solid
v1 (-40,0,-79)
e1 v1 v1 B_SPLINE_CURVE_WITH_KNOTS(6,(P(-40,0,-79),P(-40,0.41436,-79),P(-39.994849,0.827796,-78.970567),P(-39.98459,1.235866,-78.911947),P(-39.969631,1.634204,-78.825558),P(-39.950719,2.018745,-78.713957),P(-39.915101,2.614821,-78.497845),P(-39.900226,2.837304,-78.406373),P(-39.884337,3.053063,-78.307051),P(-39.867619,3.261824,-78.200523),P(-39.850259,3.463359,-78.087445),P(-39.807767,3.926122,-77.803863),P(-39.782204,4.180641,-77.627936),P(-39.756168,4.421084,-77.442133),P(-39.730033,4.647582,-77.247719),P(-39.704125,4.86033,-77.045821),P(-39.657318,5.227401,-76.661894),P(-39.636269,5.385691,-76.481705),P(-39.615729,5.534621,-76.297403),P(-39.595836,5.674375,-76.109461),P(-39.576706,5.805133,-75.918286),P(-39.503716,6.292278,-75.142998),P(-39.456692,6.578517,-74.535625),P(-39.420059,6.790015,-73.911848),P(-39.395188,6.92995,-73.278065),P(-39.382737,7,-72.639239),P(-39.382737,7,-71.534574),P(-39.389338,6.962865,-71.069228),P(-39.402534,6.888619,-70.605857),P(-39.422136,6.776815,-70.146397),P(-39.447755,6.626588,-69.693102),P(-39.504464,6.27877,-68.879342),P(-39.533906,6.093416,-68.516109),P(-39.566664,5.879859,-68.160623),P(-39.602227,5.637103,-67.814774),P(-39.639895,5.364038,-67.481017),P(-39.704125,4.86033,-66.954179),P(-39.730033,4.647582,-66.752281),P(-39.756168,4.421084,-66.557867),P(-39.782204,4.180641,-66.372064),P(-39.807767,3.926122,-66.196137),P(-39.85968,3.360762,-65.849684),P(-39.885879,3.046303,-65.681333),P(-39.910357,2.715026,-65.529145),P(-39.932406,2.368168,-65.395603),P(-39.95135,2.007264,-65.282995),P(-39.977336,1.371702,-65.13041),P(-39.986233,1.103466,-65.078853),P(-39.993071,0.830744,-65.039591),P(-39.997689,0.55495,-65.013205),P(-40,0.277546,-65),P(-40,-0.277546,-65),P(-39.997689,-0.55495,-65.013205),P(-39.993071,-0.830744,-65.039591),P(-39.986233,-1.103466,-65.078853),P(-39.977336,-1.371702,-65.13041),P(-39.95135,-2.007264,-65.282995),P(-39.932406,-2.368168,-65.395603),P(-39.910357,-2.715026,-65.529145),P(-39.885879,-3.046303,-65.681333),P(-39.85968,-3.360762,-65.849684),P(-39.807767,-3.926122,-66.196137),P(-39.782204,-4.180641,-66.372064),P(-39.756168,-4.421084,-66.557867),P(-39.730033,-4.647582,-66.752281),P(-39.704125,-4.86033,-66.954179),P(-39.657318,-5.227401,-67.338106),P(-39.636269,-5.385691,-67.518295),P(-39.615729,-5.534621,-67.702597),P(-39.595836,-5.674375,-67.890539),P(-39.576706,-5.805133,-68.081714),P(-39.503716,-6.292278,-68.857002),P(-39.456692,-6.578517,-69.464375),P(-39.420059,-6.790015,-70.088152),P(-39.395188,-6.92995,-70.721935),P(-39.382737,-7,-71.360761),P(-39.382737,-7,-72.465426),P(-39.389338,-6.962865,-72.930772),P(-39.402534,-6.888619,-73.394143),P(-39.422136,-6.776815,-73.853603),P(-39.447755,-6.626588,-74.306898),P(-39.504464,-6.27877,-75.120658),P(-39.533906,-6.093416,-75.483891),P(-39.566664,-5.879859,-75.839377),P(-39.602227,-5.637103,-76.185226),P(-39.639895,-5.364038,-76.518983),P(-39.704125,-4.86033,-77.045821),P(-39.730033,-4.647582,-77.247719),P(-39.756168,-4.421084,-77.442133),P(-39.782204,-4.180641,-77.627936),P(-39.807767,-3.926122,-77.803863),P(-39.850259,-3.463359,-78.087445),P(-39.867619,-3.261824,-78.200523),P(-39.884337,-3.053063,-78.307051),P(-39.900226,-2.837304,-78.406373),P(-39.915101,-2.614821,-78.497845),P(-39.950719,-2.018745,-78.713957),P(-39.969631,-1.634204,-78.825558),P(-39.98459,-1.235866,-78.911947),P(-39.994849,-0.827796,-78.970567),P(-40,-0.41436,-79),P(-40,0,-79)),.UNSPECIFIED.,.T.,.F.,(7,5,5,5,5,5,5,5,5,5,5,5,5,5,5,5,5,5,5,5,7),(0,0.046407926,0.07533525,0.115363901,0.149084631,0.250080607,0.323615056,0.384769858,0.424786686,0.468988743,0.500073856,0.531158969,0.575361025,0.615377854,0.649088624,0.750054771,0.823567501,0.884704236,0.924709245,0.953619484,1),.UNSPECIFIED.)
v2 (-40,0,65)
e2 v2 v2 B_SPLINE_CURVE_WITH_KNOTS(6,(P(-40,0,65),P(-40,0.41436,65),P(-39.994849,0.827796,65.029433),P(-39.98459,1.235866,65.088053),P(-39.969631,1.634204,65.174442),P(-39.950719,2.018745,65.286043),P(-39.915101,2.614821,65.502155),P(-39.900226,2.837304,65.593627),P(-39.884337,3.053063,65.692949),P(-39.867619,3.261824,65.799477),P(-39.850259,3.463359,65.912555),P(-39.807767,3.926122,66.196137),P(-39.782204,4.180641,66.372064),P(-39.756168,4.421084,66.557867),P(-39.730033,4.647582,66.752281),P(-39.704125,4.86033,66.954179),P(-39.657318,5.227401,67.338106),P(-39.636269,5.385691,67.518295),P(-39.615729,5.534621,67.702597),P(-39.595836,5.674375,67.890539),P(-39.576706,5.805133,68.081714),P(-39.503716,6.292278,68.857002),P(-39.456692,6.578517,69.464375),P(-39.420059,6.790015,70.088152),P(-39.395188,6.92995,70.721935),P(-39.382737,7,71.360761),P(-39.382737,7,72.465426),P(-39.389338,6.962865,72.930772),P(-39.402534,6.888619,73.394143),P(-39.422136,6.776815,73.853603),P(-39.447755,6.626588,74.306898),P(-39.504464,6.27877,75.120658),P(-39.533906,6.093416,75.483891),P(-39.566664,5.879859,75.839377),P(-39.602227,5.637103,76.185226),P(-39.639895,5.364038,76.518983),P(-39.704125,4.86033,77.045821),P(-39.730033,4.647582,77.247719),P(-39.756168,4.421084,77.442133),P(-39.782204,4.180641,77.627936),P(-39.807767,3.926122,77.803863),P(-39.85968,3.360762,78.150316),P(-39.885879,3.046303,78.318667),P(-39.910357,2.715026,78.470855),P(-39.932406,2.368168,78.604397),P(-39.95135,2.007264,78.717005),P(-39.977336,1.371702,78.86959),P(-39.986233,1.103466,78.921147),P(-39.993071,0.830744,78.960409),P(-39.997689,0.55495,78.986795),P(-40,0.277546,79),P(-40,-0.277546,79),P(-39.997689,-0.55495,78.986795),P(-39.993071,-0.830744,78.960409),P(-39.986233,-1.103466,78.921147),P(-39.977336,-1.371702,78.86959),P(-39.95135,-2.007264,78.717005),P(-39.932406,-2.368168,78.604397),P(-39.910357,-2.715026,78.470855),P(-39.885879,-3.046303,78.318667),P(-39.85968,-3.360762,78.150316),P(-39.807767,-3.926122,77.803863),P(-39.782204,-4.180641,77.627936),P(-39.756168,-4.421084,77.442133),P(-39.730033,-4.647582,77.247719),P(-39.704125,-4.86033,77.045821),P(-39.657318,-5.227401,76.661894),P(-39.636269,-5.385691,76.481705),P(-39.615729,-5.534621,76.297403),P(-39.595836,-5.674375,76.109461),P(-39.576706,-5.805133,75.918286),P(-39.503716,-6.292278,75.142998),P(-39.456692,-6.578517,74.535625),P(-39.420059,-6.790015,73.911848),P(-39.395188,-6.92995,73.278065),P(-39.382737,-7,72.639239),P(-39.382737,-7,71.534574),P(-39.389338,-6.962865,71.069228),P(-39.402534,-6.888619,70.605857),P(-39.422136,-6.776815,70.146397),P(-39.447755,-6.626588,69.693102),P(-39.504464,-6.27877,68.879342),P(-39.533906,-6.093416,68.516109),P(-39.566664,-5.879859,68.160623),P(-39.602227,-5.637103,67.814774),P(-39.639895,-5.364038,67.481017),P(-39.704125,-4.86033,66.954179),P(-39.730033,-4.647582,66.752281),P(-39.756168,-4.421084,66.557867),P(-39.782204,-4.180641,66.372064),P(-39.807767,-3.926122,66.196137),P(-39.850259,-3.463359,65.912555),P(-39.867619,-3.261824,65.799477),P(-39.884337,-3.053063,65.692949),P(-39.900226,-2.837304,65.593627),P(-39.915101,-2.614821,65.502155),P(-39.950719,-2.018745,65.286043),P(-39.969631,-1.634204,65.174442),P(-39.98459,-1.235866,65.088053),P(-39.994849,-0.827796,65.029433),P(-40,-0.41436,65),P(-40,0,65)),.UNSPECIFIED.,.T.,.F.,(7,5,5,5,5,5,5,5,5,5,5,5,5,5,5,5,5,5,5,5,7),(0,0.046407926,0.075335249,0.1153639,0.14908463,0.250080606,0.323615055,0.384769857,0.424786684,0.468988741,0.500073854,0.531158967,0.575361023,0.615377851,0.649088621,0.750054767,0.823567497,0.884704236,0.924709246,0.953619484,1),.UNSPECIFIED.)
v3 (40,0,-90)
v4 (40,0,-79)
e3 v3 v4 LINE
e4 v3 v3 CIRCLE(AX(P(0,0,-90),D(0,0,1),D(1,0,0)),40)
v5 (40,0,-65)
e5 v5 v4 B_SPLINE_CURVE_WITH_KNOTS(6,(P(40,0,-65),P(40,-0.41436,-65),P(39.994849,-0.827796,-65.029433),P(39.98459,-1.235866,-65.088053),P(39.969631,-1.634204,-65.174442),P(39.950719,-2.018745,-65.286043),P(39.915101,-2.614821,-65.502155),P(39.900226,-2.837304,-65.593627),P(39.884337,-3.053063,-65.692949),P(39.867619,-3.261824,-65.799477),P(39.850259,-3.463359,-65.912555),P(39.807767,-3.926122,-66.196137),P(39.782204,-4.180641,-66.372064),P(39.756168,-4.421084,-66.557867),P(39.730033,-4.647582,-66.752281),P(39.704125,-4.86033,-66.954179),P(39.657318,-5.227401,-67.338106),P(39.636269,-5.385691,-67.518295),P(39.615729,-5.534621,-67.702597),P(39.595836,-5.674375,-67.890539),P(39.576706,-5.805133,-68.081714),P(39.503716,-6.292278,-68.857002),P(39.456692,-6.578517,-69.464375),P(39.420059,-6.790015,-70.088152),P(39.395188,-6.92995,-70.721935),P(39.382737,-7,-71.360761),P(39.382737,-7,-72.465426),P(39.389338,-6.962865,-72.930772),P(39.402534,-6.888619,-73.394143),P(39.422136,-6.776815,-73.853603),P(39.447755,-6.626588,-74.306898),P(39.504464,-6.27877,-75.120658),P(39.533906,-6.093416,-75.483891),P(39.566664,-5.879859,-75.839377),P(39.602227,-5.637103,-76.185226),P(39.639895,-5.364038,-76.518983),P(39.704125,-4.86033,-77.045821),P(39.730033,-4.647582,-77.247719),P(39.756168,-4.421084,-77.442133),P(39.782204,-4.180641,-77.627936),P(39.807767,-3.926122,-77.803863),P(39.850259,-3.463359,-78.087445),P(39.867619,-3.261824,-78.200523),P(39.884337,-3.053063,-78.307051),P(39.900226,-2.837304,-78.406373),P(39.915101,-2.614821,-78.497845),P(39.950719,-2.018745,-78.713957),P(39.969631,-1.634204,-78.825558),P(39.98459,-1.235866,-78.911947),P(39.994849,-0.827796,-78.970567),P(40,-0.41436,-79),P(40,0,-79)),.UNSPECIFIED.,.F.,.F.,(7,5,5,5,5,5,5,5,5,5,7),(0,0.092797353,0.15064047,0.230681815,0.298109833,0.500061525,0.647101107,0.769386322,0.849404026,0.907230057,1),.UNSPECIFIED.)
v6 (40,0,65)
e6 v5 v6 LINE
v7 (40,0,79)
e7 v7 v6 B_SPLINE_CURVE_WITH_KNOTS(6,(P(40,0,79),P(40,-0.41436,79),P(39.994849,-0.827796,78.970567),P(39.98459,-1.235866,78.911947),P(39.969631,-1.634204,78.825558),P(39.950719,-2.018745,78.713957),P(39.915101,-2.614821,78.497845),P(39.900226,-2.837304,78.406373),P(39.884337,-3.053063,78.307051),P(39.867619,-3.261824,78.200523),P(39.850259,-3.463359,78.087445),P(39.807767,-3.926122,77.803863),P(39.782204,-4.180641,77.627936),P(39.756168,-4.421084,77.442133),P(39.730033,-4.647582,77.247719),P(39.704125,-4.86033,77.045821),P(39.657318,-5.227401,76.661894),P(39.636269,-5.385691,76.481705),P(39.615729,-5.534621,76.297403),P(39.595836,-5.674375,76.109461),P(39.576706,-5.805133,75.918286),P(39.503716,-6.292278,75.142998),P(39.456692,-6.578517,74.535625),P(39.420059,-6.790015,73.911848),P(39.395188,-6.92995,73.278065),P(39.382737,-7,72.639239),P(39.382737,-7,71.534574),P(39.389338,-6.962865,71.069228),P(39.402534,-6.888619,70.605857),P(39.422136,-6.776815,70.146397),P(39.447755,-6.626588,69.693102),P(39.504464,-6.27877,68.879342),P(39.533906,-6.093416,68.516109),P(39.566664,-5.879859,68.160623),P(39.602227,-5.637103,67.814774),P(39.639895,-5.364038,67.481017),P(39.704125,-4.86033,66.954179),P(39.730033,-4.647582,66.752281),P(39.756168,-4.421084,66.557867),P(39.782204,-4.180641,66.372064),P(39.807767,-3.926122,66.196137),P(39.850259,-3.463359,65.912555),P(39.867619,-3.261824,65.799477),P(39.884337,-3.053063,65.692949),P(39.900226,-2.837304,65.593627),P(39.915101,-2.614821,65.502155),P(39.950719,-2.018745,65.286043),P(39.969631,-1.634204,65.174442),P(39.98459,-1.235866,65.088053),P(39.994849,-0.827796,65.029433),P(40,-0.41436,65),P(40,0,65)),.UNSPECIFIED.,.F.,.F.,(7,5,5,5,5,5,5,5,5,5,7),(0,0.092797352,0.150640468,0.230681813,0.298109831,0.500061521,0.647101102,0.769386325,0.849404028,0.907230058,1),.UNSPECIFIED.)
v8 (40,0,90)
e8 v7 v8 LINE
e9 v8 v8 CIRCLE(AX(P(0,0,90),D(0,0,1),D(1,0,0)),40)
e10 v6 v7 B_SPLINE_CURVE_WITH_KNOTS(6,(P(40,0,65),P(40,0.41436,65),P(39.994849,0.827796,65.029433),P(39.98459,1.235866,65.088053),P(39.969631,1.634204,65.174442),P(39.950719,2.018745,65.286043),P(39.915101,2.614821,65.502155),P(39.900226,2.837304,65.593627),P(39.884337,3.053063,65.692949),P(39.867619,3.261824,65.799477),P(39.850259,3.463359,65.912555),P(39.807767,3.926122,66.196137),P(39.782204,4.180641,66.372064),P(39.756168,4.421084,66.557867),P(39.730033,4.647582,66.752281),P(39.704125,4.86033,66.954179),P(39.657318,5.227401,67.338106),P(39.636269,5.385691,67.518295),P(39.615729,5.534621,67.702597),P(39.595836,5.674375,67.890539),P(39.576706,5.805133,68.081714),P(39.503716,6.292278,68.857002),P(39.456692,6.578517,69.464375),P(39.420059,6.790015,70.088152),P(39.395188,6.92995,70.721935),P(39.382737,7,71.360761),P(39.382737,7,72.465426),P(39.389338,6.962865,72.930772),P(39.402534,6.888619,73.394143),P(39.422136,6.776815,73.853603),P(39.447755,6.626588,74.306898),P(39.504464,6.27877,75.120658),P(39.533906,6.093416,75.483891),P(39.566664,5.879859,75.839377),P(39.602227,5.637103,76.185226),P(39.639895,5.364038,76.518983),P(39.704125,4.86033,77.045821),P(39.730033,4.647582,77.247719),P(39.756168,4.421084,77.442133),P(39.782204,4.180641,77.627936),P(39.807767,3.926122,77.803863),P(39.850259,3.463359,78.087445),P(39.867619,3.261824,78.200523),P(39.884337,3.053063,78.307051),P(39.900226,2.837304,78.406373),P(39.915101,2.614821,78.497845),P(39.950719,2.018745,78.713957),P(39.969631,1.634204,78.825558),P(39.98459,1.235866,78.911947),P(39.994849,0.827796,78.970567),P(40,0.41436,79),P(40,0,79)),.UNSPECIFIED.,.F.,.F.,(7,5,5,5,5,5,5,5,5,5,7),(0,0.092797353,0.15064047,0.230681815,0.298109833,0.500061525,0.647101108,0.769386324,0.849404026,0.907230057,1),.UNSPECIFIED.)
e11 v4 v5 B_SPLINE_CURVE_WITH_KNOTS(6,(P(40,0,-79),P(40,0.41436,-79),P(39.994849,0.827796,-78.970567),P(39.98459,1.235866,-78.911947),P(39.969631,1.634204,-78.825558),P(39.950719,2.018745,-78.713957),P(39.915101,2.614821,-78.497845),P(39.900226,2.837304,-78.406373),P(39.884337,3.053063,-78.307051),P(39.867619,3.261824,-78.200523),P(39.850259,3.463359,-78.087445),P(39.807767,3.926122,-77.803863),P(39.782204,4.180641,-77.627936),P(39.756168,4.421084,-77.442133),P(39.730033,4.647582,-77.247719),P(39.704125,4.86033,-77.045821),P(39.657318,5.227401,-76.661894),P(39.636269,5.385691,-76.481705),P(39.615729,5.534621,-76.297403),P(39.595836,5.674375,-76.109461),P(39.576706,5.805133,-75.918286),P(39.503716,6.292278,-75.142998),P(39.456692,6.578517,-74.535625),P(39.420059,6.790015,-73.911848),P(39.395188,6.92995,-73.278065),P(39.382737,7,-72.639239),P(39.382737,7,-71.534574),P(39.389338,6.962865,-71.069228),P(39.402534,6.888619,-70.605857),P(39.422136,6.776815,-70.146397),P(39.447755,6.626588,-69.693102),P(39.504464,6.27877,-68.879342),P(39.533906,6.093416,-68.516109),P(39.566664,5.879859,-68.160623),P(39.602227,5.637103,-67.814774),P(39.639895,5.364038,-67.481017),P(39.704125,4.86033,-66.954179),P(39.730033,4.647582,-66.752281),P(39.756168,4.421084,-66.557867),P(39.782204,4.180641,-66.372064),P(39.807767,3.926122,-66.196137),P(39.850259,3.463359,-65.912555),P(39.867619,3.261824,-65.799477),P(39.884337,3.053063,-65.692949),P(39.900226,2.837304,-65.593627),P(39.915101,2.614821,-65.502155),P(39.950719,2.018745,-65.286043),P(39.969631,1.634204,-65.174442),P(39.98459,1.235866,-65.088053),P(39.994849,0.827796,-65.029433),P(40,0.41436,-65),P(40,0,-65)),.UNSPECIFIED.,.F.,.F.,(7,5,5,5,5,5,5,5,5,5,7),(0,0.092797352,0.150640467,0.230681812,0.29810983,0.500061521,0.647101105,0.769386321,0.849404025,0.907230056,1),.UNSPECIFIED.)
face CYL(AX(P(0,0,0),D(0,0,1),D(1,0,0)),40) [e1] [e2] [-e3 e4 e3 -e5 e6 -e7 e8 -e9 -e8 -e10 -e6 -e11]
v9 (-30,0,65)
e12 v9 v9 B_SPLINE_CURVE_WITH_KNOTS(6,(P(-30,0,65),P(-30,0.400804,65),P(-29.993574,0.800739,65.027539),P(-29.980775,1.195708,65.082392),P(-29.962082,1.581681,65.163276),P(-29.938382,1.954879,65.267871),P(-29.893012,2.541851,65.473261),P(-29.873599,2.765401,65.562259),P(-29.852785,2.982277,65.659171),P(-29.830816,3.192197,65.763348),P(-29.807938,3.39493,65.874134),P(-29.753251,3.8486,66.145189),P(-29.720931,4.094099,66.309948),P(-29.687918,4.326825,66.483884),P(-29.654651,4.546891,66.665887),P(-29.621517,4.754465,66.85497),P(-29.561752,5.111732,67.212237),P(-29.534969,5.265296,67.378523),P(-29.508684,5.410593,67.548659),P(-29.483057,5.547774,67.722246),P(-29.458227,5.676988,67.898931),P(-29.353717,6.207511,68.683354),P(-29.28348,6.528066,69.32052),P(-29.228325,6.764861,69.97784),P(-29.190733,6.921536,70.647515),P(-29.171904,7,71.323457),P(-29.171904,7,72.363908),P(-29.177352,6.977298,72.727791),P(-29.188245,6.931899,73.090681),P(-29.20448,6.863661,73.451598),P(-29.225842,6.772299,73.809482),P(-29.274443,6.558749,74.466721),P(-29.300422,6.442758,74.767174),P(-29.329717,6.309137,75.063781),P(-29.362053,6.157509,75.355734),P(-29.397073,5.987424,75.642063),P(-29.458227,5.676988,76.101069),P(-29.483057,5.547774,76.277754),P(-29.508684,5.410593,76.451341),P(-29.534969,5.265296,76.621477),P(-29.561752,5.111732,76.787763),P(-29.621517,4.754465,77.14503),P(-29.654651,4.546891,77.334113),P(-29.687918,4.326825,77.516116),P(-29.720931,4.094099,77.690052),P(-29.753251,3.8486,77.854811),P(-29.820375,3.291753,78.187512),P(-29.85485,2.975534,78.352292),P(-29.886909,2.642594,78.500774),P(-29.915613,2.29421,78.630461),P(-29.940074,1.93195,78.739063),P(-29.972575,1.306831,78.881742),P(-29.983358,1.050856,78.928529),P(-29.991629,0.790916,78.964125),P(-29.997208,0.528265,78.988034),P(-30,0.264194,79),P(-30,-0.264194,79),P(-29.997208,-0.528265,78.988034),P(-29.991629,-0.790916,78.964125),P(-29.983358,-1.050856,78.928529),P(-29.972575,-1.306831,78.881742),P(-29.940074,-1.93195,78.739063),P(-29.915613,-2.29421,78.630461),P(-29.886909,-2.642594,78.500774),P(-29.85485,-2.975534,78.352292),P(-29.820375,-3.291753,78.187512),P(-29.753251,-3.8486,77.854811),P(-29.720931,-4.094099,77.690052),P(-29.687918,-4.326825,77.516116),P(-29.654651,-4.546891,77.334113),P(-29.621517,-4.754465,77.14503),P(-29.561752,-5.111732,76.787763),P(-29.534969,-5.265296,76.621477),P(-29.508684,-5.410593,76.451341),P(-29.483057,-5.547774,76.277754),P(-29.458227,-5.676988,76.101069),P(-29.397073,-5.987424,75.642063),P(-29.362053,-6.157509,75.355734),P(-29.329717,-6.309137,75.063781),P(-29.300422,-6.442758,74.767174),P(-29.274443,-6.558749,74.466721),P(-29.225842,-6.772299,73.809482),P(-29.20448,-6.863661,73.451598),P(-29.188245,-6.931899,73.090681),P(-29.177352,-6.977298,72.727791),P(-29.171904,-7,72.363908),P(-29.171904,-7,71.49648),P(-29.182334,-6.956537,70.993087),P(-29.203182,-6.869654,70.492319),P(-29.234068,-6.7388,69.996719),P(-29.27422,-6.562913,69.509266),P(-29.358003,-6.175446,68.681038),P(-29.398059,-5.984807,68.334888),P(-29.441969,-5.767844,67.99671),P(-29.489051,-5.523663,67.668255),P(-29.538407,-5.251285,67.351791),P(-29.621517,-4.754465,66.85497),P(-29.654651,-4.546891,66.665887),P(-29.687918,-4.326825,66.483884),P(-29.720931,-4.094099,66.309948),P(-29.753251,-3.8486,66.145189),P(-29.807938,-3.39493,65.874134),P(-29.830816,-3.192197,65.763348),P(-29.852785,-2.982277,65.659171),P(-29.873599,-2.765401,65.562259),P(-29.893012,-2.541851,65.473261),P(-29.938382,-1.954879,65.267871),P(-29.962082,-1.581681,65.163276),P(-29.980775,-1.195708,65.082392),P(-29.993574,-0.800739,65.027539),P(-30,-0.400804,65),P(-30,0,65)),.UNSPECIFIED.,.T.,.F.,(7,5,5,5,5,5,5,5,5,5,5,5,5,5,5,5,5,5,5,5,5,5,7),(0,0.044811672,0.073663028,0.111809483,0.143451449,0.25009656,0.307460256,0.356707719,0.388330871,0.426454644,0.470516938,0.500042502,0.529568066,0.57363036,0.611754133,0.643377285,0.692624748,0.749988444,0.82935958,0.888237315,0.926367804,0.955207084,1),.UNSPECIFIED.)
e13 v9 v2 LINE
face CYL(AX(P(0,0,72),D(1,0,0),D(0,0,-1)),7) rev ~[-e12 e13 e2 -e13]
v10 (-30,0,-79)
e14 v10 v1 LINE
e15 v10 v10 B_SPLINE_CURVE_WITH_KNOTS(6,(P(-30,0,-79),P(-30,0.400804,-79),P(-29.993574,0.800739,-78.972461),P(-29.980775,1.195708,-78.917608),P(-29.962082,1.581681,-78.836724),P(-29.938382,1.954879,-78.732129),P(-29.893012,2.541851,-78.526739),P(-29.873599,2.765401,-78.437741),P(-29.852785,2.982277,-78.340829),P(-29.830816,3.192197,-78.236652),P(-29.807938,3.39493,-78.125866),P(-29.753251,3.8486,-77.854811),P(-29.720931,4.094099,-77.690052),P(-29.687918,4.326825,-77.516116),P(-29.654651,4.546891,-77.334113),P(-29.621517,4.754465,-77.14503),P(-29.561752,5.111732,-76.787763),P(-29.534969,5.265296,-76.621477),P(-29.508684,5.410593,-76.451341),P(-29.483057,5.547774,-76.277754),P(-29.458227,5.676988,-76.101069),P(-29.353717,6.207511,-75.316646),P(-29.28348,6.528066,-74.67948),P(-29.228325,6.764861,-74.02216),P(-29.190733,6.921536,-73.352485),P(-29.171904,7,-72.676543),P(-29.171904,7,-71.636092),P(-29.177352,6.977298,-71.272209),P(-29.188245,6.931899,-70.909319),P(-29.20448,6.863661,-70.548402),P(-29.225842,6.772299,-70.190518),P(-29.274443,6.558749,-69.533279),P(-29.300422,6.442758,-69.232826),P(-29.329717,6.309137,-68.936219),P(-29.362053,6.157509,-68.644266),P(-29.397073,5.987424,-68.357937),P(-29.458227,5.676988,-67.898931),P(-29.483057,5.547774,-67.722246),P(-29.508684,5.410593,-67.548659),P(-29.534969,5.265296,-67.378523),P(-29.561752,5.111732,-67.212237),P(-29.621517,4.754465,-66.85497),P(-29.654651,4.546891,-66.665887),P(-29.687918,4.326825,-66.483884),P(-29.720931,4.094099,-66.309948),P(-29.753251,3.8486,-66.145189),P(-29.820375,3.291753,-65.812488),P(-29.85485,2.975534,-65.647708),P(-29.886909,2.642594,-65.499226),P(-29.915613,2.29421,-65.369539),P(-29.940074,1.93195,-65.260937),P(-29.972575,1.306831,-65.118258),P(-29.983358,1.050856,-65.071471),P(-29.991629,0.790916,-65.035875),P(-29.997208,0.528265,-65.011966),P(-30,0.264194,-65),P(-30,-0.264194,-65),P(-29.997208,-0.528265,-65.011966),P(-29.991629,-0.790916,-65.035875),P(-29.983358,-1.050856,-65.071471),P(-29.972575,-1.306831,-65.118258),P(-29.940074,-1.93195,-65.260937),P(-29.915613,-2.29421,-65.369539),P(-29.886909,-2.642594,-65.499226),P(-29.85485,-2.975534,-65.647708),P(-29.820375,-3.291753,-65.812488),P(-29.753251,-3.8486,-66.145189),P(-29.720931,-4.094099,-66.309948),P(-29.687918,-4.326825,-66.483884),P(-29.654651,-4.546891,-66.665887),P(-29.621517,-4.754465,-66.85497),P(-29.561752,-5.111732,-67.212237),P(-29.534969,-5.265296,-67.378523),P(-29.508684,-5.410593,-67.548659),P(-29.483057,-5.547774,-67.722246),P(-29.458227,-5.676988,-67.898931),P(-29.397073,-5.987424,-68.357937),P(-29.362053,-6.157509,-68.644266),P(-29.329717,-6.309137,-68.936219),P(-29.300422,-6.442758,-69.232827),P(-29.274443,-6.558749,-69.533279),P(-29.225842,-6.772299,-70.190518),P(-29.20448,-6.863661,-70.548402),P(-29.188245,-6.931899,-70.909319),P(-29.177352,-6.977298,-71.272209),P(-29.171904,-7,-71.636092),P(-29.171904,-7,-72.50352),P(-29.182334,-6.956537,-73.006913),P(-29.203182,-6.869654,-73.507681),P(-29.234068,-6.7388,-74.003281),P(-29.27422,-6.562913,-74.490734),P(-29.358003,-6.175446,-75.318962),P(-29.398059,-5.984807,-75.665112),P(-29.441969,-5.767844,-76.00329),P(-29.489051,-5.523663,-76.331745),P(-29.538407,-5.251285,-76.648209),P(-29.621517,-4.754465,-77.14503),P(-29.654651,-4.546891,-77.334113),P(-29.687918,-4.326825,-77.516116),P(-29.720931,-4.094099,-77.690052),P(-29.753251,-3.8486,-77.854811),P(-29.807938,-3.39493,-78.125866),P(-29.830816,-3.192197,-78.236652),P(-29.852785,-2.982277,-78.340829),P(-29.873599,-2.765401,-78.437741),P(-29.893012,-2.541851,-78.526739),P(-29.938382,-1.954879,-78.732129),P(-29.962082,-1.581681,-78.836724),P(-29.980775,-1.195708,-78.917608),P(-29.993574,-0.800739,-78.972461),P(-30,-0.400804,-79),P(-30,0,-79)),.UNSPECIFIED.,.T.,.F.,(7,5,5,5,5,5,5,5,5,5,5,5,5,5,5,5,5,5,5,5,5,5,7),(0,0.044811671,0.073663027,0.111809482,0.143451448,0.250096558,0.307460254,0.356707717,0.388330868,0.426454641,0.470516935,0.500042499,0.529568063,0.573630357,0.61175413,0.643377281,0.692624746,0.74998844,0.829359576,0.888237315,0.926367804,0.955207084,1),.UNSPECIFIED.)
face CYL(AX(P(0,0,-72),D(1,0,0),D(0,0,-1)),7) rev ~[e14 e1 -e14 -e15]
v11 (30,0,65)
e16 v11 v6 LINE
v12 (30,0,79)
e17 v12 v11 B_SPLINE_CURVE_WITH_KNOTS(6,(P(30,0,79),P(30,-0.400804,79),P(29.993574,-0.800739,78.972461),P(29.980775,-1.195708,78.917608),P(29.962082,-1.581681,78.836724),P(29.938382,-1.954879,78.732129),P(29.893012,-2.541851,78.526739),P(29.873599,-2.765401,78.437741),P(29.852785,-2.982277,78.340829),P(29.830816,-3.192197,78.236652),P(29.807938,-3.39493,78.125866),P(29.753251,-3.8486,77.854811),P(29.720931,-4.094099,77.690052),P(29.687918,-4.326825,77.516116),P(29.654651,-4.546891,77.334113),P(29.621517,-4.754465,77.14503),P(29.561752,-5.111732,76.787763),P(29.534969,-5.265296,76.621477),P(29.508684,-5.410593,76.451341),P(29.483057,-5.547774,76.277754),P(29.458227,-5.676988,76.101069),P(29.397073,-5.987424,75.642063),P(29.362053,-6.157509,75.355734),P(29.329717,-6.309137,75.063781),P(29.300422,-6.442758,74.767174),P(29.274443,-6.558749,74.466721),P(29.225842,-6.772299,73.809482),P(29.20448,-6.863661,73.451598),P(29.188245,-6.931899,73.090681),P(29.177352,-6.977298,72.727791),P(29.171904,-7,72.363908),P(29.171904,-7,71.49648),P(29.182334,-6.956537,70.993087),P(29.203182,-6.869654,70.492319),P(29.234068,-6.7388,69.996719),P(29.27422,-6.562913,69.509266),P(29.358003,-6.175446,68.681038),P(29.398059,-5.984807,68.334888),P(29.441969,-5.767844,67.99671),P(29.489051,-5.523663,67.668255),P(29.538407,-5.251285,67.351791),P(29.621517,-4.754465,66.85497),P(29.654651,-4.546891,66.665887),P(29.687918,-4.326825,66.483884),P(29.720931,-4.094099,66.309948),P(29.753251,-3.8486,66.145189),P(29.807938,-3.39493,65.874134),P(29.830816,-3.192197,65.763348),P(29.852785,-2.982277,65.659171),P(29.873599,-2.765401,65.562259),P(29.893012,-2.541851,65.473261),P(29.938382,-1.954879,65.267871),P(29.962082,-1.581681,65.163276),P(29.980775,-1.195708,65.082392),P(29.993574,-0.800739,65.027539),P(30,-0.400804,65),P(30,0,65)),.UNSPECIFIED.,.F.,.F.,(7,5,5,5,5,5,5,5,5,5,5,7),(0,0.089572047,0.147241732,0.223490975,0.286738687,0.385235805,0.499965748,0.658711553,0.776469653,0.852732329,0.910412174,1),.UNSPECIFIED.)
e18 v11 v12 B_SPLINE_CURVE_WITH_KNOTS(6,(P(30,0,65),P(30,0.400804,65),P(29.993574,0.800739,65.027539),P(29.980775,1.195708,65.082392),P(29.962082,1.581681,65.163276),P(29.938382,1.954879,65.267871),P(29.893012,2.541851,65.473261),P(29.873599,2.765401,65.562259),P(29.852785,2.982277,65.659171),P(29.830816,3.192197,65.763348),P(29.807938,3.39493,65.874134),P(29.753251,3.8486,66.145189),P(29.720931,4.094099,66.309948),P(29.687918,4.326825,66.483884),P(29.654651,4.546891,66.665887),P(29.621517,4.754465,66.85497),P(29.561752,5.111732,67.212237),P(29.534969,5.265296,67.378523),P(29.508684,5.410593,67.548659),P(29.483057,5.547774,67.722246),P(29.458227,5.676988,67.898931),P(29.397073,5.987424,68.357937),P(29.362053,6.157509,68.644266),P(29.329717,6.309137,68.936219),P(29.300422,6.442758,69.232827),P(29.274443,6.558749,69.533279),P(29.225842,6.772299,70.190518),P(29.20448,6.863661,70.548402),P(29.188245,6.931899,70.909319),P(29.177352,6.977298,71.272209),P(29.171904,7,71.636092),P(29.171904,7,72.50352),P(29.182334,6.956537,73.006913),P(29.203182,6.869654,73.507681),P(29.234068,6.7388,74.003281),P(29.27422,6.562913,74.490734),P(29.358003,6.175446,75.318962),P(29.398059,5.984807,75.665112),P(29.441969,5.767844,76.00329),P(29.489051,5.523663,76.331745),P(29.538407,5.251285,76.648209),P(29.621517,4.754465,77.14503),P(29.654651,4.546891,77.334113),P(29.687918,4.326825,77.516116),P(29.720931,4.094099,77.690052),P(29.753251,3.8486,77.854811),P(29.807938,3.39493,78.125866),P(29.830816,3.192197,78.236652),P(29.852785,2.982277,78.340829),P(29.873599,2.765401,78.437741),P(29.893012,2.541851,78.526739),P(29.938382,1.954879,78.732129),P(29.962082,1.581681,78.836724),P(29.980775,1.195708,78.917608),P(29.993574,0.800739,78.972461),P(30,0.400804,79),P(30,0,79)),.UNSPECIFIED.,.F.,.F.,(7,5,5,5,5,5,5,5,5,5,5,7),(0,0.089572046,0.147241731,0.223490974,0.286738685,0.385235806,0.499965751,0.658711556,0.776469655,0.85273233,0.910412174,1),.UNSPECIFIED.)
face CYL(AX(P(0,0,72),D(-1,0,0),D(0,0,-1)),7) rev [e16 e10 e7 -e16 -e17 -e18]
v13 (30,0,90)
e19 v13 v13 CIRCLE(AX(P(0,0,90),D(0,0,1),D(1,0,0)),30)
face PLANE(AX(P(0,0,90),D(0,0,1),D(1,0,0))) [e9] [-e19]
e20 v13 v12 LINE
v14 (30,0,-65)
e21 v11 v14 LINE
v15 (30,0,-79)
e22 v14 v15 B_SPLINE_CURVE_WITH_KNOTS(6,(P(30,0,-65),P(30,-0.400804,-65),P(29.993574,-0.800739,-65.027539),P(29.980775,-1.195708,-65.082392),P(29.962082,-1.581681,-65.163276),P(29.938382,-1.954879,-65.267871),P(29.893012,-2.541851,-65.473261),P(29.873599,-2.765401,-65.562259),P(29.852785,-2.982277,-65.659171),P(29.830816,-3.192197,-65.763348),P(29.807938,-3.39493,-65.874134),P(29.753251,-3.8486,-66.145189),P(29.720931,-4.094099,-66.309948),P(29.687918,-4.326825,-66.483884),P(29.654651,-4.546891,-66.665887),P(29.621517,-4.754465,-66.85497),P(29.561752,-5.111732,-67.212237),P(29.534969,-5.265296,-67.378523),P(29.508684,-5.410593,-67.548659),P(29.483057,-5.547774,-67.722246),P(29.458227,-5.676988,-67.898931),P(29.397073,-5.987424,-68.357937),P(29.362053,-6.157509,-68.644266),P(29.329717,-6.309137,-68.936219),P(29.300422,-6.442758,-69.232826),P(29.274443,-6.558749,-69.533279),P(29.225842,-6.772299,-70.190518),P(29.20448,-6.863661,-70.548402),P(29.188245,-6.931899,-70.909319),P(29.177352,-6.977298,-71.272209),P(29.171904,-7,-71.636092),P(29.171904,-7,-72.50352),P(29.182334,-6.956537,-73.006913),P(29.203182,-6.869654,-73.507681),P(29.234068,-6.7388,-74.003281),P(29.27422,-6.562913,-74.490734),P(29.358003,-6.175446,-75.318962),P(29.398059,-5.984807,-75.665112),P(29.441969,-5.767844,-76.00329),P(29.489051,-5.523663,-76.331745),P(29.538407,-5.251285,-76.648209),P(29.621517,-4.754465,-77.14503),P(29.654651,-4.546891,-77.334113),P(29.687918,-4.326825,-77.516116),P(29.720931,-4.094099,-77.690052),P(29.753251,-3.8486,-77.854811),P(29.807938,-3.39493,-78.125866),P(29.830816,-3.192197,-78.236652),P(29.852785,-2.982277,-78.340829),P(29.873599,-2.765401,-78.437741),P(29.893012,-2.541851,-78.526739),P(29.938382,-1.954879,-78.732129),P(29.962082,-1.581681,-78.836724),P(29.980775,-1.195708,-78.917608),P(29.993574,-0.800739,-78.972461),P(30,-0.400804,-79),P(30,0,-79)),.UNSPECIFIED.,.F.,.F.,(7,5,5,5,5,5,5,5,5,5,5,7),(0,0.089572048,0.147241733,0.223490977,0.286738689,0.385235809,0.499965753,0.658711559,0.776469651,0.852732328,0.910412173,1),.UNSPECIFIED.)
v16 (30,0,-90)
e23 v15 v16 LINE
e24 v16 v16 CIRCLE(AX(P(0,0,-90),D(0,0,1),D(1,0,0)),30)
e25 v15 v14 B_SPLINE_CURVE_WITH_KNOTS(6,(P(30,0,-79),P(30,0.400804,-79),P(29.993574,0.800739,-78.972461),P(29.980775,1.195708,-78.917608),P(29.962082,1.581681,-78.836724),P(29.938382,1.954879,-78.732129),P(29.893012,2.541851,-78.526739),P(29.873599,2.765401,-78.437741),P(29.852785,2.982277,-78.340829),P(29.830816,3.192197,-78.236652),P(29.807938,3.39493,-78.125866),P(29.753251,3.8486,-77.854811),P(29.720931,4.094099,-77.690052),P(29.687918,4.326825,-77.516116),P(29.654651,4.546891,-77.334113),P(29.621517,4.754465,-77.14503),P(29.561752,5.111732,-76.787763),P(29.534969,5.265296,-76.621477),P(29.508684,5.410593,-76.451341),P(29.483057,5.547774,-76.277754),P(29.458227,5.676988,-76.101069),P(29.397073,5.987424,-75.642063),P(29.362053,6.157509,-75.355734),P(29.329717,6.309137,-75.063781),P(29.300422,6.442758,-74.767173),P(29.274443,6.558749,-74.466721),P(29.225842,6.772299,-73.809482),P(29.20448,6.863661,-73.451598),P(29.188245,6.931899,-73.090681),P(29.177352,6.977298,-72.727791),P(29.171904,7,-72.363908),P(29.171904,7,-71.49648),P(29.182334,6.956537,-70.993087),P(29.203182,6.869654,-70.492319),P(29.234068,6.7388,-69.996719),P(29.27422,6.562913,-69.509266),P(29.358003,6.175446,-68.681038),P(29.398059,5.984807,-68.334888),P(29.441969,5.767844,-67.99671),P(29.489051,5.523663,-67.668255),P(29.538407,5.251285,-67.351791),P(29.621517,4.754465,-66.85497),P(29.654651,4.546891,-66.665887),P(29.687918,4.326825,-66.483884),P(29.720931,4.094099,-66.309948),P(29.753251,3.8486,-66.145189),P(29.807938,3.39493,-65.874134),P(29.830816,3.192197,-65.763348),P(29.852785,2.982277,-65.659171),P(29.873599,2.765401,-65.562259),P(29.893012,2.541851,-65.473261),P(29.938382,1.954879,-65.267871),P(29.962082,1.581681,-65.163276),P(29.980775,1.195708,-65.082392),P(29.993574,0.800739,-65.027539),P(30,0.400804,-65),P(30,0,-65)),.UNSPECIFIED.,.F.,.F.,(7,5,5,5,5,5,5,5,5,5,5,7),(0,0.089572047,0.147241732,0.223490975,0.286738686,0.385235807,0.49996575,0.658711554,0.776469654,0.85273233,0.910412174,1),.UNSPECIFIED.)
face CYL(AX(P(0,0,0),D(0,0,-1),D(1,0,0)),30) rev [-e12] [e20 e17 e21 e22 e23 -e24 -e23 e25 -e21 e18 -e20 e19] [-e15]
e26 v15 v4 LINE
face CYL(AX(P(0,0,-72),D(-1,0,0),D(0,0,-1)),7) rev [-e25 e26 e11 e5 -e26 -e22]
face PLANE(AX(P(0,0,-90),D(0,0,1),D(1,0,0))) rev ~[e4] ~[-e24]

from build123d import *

# Parameters (mm, degrees)
SKETCH1_R               = 40
SKETCH1_R_2             = 30
BOSS_EXTRUDE1_DEPTH     = 90
SKETCH2_R               = 7
CUT_EXTRUDE1_DEPTH      = 41
CUT_EXTRUDE1_DEPTH_BACK = 41


with BuildPart() as part:
    # Sketch1 → Boss-Extrude1 (new body, symmetric)
    with BuildSketch(Plane.XY):
        Circle(SKETCH1_R)
        Circle(SKETCH1_R_2, mode=Mode.SUBTRACT)
    extrude(amount=BOSS_EXTRUDE1_DEPTH, both=True)

    # Sketch2 → Cut-Extrude1 (cut, two sides)
    with BuildSketch(Plane(origin=(0, 0, 0), x_dir=(0, 0, -1), z_dir=(1, 0, 0))) as cut_extrude1_sk:
        with Locations((-72, 0)):
            Circle(SKETCH2_R)
        with Locations((72, 0)):
            Circle(SKETCH2_R)
    extrude(amount=CUT_EXTRUDE1_DEPTH, mode=Mode.SUBTRACT)
    extrude(cut_extrude1_sk.sketch, amount=-CUT_EXTRUDE1_DEPTH_BACK, mode=Mode.SUBTRACT)


solid = part.part
